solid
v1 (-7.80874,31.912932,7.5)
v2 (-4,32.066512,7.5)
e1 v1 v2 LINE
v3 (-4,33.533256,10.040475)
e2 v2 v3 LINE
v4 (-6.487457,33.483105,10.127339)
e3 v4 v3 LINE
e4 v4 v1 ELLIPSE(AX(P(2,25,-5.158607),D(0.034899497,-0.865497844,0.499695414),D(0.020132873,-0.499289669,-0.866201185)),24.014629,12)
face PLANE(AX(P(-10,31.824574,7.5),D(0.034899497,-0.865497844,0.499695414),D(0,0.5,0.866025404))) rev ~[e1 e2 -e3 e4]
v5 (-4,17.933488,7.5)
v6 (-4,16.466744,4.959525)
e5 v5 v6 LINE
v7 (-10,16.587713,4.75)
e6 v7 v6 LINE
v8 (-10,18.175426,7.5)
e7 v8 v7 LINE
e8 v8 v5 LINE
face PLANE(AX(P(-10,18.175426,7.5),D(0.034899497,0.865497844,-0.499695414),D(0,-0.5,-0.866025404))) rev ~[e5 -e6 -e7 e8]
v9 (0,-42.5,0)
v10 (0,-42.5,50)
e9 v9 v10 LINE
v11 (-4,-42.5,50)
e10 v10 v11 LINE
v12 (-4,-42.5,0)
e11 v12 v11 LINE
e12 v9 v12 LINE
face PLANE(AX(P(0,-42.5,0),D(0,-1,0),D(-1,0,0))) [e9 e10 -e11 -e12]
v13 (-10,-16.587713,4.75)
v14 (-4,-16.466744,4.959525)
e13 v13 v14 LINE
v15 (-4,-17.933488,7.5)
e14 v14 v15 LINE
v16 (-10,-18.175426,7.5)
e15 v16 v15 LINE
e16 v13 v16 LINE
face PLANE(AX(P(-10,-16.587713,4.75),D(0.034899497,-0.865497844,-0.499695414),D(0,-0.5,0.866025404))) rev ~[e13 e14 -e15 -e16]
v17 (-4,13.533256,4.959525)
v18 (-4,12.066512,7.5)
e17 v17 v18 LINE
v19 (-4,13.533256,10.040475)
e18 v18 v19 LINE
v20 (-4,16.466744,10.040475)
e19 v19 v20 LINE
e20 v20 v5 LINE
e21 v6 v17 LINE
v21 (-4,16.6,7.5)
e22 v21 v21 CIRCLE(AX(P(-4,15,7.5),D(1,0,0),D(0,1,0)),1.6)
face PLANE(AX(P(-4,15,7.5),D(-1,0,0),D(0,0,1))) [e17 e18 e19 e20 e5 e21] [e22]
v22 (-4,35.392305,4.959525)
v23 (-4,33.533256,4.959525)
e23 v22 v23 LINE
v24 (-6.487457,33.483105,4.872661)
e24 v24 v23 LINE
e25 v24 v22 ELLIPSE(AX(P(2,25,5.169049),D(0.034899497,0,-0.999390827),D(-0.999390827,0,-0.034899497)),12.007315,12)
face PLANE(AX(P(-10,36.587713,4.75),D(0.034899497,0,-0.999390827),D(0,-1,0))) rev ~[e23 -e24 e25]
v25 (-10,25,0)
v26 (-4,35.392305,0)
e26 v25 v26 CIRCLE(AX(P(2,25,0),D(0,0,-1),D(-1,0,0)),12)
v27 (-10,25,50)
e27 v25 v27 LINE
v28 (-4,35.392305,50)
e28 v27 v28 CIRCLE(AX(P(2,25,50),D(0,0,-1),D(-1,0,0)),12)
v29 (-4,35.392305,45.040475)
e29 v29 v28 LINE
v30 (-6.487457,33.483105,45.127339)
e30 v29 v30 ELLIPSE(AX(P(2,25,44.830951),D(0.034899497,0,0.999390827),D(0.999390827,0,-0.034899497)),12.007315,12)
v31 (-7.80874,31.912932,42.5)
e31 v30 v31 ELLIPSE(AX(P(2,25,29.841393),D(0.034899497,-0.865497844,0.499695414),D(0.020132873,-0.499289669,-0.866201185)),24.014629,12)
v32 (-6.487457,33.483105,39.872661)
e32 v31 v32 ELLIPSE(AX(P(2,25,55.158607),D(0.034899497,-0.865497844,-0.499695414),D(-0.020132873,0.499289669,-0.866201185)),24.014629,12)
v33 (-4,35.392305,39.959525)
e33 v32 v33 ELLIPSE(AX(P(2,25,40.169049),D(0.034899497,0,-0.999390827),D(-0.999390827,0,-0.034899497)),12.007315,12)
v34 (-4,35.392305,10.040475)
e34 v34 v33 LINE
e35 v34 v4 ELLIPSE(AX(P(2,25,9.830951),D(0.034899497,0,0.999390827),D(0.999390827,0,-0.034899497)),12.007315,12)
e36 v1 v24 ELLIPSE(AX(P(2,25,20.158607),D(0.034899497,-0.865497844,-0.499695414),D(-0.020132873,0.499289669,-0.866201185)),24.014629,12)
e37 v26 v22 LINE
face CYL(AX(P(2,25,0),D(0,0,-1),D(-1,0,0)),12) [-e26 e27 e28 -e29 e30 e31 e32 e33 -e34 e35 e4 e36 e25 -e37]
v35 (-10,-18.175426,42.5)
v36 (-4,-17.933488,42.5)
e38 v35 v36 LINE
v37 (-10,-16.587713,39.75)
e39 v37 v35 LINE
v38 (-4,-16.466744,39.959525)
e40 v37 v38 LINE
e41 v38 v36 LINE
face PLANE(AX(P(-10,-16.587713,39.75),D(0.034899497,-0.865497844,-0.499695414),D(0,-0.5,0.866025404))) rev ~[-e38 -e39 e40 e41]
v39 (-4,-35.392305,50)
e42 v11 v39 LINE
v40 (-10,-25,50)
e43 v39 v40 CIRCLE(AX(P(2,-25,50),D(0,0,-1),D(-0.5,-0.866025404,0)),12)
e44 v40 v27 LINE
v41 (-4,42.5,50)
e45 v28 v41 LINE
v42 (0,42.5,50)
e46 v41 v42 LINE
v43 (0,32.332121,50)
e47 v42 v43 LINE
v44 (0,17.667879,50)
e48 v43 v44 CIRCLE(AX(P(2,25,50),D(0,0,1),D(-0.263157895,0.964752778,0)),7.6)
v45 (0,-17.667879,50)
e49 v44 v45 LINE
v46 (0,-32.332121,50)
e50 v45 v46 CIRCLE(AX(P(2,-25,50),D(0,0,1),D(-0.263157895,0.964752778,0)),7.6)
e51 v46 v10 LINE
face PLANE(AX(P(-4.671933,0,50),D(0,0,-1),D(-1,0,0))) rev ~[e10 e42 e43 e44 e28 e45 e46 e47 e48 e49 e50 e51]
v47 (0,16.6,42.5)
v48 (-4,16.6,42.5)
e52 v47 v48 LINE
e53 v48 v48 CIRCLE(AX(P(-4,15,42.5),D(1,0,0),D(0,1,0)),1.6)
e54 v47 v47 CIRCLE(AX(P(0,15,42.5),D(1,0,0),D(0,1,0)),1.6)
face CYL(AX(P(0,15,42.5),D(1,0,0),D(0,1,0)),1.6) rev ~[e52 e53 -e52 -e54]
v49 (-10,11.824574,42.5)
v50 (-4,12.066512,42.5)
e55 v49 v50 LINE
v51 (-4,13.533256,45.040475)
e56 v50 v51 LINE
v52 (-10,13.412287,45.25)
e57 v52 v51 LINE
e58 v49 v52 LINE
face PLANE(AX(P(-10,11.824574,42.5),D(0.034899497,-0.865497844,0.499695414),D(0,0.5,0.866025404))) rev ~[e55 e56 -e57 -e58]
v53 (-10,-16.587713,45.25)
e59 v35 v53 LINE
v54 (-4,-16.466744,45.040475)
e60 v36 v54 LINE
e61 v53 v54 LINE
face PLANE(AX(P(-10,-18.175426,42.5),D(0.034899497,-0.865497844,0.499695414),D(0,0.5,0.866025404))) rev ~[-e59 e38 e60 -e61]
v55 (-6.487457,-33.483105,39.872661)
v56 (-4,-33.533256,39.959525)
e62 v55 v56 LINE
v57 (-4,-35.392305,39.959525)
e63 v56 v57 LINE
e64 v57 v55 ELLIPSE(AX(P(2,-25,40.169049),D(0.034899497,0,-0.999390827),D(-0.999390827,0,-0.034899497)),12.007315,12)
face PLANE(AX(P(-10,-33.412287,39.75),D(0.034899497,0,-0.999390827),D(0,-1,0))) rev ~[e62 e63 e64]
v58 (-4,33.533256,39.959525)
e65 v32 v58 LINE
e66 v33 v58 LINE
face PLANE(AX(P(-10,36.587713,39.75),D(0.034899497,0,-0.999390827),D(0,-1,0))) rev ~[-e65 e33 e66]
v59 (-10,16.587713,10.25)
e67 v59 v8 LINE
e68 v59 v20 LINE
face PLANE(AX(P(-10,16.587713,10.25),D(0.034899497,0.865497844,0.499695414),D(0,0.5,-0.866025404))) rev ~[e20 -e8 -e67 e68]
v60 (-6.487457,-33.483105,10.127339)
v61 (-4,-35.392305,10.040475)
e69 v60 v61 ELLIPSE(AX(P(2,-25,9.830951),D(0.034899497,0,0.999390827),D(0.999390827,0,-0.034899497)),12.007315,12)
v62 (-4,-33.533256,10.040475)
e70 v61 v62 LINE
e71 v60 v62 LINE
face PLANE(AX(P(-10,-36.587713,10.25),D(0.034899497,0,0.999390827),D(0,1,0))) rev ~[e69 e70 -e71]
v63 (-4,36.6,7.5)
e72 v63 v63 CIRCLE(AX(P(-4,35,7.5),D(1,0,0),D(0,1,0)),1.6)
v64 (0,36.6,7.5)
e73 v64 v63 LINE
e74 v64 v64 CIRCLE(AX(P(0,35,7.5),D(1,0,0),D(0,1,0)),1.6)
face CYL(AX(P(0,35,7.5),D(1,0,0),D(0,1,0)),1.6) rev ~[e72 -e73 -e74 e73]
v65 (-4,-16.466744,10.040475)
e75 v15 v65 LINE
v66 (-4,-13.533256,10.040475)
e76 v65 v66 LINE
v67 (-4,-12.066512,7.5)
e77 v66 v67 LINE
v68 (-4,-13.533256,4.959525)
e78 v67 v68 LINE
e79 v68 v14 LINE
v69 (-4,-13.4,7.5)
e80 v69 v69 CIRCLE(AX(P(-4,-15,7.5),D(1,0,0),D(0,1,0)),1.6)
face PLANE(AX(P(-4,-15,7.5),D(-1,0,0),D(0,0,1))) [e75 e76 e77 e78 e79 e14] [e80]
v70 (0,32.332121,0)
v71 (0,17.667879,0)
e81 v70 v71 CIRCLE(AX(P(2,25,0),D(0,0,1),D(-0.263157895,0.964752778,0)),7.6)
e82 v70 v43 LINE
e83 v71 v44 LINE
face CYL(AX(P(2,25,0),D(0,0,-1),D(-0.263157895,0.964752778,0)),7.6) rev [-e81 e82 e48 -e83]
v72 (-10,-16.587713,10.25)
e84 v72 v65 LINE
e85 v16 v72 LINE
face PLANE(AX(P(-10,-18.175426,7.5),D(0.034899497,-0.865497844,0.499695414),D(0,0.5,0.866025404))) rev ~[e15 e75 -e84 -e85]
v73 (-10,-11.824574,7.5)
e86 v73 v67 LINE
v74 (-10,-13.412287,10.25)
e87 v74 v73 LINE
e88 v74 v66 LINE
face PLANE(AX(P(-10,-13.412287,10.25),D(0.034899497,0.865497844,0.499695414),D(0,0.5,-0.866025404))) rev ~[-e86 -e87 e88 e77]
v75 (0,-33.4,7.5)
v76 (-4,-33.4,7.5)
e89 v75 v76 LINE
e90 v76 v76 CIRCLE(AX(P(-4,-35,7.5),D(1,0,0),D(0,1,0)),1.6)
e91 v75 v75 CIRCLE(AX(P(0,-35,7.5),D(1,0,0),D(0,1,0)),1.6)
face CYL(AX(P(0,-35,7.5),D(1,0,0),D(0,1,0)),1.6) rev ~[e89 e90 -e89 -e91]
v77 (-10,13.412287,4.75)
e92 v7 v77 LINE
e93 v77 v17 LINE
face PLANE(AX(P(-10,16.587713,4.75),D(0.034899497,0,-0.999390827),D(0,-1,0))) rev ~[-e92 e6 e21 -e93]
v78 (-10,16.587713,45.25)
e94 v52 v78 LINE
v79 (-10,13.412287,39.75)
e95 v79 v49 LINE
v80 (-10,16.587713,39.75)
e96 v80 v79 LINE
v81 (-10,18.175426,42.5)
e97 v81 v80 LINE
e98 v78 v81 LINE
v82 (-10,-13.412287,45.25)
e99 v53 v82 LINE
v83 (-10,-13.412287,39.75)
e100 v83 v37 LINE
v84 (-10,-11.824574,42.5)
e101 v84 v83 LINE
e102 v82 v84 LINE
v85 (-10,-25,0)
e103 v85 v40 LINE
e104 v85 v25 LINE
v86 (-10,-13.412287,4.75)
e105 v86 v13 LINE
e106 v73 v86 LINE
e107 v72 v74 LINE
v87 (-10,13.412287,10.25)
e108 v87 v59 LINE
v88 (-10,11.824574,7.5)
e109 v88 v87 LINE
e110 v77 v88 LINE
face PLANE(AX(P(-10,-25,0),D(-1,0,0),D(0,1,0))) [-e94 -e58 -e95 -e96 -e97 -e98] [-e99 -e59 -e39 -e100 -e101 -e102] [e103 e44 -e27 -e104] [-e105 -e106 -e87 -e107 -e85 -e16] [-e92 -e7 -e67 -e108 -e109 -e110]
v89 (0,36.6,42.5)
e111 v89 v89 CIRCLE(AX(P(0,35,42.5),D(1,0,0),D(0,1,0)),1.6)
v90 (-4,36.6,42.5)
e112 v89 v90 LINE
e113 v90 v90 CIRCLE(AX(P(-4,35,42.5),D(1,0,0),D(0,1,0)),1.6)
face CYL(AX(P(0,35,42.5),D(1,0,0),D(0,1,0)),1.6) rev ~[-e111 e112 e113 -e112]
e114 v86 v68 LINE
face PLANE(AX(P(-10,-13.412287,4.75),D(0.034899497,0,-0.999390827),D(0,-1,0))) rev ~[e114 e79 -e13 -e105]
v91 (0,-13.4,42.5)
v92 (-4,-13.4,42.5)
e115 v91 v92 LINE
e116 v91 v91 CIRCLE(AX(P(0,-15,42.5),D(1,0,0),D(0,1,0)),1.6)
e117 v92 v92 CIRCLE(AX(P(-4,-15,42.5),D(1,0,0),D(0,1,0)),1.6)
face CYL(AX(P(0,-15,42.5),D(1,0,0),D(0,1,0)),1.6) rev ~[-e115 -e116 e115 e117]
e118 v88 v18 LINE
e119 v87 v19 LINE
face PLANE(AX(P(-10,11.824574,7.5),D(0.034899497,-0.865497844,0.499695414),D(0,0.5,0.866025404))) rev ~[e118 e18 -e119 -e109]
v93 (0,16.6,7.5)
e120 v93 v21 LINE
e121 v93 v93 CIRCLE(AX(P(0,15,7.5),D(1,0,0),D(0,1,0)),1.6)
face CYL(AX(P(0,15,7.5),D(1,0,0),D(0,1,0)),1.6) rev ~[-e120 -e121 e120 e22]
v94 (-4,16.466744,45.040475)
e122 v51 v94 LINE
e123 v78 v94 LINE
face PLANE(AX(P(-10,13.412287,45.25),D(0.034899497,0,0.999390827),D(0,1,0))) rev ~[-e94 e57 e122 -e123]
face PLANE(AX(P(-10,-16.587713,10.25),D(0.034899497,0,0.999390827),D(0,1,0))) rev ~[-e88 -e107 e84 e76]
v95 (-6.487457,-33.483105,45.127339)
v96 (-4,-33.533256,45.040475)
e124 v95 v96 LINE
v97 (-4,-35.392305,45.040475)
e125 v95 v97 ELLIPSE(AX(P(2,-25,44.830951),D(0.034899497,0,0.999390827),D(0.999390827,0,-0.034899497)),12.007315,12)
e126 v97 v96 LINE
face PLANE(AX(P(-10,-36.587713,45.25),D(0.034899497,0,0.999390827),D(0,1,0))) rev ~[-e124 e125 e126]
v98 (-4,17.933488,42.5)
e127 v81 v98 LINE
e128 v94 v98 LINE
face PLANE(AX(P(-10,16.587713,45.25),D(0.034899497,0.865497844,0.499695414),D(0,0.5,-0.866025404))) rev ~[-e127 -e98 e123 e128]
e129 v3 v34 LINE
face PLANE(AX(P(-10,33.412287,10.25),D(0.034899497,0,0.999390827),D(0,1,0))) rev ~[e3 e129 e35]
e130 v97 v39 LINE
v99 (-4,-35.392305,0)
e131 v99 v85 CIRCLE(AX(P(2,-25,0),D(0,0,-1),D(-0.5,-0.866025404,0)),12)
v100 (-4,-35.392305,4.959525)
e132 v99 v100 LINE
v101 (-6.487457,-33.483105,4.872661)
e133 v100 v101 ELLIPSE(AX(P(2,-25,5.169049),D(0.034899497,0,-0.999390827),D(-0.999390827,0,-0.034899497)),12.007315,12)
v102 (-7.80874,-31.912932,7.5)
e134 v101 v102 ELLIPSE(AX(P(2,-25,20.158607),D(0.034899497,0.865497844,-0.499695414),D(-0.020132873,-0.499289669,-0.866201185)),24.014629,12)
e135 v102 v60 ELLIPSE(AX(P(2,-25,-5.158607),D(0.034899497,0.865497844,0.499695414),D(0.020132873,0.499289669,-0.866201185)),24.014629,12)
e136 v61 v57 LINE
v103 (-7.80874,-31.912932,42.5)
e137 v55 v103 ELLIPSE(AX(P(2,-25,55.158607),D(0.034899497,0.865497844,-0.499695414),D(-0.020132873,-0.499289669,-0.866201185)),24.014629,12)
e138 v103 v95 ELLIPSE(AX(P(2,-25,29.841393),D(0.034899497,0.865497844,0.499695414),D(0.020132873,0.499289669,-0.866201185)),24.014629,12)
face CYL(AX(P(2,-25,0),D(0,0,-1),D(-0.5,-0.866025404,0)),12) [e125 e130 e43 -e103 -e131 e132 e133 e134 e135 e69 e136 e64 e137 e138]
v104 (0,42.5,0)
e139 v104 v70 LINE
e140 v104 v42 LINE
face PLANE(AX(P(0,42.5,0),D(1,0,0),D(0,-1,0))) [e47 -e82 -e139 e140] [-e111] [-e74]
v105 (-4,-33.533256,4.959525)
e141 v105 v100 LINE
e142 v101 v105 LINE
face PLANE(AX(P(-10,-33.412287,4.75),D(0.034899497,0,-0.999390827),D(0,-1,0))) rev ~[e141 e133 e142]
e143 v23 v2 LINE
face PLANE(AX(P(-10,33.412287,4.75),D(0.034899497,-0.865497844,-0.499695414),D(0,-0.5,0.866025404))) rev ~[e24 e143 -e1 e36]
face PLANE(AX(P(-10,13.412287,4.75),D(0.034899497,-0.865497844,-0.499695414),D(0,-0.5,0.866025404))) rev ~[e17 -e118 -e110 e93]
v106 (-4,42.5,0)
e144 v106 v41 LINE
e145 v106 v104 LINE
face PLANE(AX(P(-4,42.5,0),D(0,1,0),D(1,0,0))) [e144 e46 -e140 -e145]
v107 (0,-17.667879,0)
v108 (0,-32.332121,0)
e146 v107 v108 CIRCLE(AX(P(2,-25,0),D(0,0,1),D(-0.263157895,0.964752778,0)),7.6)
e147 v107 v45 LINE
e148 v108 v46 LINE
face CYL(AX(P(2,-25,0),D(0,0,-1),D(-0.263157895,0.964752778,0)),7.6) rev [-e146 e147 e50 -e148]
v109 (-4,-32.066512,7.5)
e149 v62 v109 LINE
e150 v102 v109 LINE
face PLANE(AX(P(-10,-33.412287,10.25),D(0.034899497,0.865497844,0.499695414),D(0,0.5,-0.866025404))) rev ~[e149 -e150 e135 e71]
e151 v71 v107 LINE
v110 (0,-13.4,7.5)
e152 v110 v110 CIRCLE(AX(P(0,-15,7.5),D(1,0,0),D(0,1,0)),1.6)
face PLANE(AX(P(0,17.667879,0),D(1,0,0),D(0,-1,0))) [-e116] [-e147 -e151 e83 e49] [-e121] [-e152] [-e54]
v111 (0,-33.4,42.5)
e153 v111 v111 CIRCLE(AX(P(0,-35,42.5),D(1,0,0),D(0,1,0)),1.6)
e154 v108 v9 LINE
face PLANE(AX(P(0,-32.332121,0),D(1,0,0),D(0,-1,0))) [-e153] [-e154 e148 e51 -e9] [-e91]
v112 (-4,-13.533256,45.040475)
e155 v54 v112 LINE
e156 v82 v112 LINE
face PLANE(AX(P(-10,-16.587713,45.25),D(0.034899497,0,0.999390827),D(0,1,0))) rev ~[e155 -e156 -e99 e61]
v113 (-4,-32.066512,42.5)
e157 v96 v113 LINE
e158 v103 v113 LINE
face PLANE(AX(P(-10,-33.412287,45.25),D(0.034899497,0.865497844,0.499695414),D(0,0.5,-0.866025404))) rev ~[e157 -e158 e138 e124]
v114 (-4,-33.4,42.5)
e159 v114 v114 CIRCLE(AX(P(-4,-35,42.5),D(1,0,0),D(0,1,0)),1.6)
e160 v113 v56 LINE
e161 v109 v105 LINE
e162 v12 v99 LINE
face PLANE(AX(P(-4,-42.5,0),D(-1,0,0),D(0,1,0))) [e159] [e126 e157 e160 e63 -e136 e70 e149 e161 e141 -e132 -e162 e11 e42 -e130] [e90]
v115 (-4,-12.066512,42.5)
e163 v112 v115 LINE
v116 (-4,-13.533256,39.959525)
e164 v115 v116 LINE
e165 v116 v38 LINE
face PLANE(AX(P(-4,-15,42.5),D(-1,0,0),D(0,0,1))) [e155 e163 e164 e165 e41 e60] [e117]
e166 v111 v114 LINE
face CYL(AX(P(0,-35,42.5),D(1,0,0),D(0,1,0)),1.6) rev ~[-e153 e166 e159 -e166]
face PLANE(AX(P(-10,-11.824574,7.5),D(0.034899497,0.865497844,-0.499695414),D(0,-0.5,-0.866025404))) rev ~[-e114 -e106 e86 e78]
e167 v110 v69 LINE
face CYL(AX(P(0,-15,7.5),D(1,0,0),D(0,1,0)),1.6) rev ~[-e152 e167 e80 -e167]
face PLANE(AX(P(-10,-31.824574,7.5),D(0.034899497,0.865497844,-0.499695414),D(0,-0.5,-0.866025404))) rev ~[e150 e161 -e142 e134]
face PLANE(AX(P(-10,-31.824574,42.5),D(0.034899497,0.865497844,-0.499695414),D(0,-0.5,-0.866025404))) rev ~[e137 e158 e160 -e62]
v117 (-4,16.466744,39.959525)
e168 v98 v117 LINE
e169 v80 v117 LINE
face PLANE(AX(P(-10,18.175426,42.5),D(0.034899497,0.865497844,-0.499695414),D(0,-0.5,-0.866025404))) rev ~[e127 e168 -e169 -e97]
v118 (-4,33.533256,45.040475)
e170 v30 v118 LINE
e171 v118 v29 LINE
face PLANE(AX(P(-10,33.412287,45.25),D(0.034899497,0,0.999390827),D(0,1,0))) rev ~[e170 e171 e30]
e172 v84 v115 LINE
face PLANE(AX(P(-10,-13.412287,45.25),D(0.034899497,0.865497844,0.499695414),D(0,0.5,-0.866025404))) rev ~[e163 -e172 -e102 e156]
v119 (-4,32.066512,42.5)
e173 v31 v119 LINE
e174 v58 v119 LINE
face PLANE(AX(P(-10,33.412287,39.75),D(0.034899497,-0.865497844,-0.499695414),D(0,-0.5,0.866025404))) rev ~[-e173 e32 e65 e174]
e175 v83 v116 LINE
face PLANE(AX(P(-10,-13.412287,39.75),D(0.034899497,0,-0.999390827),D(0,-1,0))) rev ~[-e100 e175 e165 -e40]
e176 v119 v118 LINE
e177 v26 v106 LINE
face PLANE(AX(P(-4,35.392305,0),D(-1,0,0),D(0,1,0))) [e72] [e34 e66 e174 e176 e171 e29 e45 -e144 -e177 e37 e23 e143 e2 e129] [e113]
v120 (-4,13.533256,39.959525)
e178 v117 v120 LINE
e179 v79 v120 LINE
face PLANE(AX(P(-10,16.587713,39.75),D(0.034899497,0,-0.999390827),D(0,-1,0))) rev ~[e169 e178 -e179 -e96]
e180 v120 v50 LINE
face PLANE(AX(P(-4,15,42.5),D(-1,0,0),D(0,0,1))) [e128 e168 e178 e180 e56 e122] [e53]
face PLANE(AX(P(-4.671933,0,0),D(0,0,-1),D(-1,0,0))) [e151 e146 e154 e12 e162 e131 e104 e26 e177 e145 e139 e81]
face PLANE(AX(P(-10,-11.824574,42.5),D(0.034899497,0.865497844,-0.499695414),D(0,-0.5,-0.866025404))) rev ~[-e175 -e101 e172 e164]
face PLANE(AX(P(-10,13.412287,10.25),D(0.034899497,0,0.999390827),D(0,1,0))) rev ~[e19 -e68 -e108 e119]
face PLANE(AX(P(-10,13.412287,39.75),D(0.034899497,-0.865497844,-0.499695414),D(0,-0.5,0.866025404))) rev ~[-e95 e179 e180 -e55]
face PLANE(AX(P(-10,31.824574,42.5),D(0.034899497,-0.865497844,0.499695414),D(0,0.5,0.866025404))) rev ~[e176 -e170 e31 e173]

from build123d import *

# Parameters (mm, degrees)
RESSALTO_EXTRUS_O1_DEPTH        = 50
ESBO_O2_R                       = 1.6
CORTE_EXTRUS_O1_DEPTH           = 67.379590237
CORTE_EXTRUS_O2_DEPTH           = 6
CORTE_EXTRUS_O2_DRAFT           = -2
CORTE_EXTRUS_O2_PROFILE_2_DEPTH = 6
CORTE_EXTRUS_O2_PROFILE_2_DRAFT = -2
CORTE_EXTRUS_O2_PROFILE_3_DEPTH = 6
CORTE_EXTRUS_O2_PROFILE_3_DRAFT = -2
CORTE_EXTRUS_O2_PROFILE_4_DEPTH = 6
CORTE_EXTRUS_O2_PROFILE_4_DRAFT = -2
CORTE_EXTRUS_O2_PROFILE_5_DEPTH = 6
CORTE_EXTRUS_O2_PROFILE_5_DRAFT = -2
CORTE_EXTRUS_O2_PROFILE_6_DEPTH = 6
CORTE_EXTRUS_O2_PROFILE_6_DRAFT = -2
CORTE_EXTRUS_O2_PROFILE_7_DEPTH = 6
CORTE_EXTRUS_O2_PROFILE_7_DRAFT = -2
CORTE_EXTRUS_O2_PROFILE_8_DEPTH = 6
CORTE_EXTRUS_O2_PROFILE_8_DRAFT = -2


with BuildPart() as part:
    # Esboço1 → Ressalto-extrusão1 (new body)
    with BuildSketch(Plane.XY):
        with BuildLine():
            Line((0, 17.667878888), (0, -17.667878888))
            ThreePointArc((0, -17.667878888), (-5.6, -25), (0, -32.332121112))
            Line((0, -32.332121112), (0, -42.5))
            Line((0, -42.5), (-4, -42.5))
            Line((-4, -42.5), (-4, -35.392304845))
            ThreePointArc((-4, -35.392304845), (-8.392304845, -31), (-10, -25))
            Line((-10, -25), (-10, 25))
            ThreePointArc((-10, 25), (-8.392304845, 31), (-4, 35.392304845))
            Line((-4, 35.392304845), (-4, 42.5))
            Line((-4, 42.5), (0, 42.5))
            Line((0, 42.5), (0, 32.332121112))
            ThreePointArc((0, 32.332121112), (-5.6, 25), (0, 17.667878888))
        make_face()
    extrude(amount=RESSALTO_EXTRUS_O1_DEPTH)

    # Esboço2 → Corte-extrusão1 (cut, through all)
    with BuildSketch(Plane(origin=(0, 0, 0), x_dir=(0, 0, -1), z_dir=(1, 0, 0))):
        with Locations(Location((-42.5, 35, 0), (0, 0, 90))):
            Circle(ESBO_O2_R)
        with Locations(Location((-7.5, 35, 0), (0, 0, 90))):
            Circle(ESBO_O2_R)
        with Locations(Location((-7.5, -35, 0), (0, 0, 90))):
            Circle(ESBO_O2_R)
        with Locations(Location((-42.5, -35, 0), (0, 0, 90))):
            Circle(ESBO_O2_R)
        with Locations(Location((-42.5, -15, 0), (0, 0, 90))):
            Circle(ESBO_O2_R)
        with Locations(Location((-42.5, 15, 0), (0, 0, 90))):
            Circle(ESBO_O2_R)
        with Locations(Location((-7.5, 15, 0), (0, 0, 90))):
            Circle(ESBO_O2_R)
        with Locations(Location((-7.5, -15, 0), (0, 0, 90))):
            Circle(ESBO_O2_R)
    extrude(amount=-CORTE_EXTRUS_O1_DEPTH, mode=Mode.SUBTRACT)


with BuildPart() as corte_extrus_o2_tool:
    # Esboço3 → Corte-extrusão2 (with draft: the straight prism first)
    with BuildSketch(Plane.ZY.offset(10)):
        Polygon((10.25, 36.58771324), (7.5, 38.175426481), (4.75, 36.58771324), (4.75, 33.41228676), (7.5, 31.824573519), (10.25, 33.41228676), align=None)
    extrude(amount=-CORTE_EXTRUS_O2_DEPTH)
    # Corte-extrusão2: the draft: its side faces are tilted about the plane it starts from
    corte_extrus_o2_sides = [corte_extrus_o2_tool.faces().sort_by_distance(p)[0] for p in [
        (-7, 37.38156986, 8.875),
        (-7, 37.38156986, 6.125),
        (-7, 35, 4.75),
        (-7, 32.61843014, 6.125),
        (-7, 32.61843014, 8.875),
        (-7, 35, 10.25),
    ]]
    draft(corte_extrus_o2_sides, Plane.ZY.offset(10), CORTE_EXTRUS_O2_DRAFT)


with BuildPart() as part_1:
    add(part.part)

    # Corte-extrusão2: cut by corte_extrus_o2_tool
    add(corte_extrus_o2_tool.part, mode=Mode.SUBTRACT)


with BuildPart() as corte_extrus_o2_profile_2_tool:
    # Esboço3 → Corte-extrusão2 profile 2 (with draft: the straight prism first)
    with BuildSketch(Plane.ZY.offset(10)):
        Polygon((45.25, 36.58771324), (42.5, 38.175426481), (39.75, 36.58771324), (39.75, 33.41228676), (42.5, 31.824573519), (45.25, 33.41228676), align=None)
    extrude(amount=-CORTE_EXTRUS_O2_PROFILE_2_DEPTH)
    # Corte-extrusão2 profile 2: the draft: its side faces are tilted about the plane it starts from
    corte_extrus_o2_profile_2_sides = [corte_extrus_o2_profile_2_tool.faces().sort_by_distance(p)[0] for p in [
        (-7, 37.38156986, 43.875),
        (-7, 37.38156986, 41.125),
        (-7, 35, 39.75),
        (-7, 32.61843014, 41.125),
        (-7, 32.61843014, 43.875),
        (-7, 35, 45.25),
    ]]
    draft(corte_extrus_o2_profile_2_sides, Plane.ZY.offset(10), CORTE_EXTRUS_O2_PROFILE_2_DRAFT)


with BuildPart() as part_2:
    add(part_1.part)

    # Corte-extrusão2 profile 2: cut by corte_extrus_o2_profile_2_tool
    add(corte_extrus_o2_profile_2_tool.part, mode=Mode.SUBTRACT)


with BuildPart() as corte_extrus_o2_profile_3_tool:
    # Esboço3 → Corte-extrusão2 profile 3 (with draft: the straight prism first)
    with BuildSketch(Plane.ZY.offset(10)):
        Polygon((45.25, 16.58771324), (42.5, 18.175426481), (39.75, 16.58771324), (39.75, 13.41228676), (42.5, 11.824573519), (45.25, 13.41228676), align=None)
    extrude(amount=-CORTE_EXTRUS_O2_PROFILE_3_DEPTH)
    # Corte-extrusão2 profile 3: the draft: its side faces are tilted about the plane it starts from
    corte_extrus_o2_profile_3_sides = [corte_extrus_o2_profile_3_tool.faces().sort_by_distance(p)[0] for p in [
        (-7, 17.38156986, 43.875),
        (-7, 17.38156986, 41.125),
        (-7, 15, 39.75),
        (-7, 12.61843014, 41.125),
        (-7, 12.61843014, 43.875),
        (-7, 15, 45.25),
    ]]
    draft(corte_extrus_o2_profile_3_sides, Plane.ZY.offset(10), CORTE_EXTRUS_O2_PROFILE_3_DRAFT)


with BuildPart() as part_3:
    add(part_2.part)

    # Corte-extrusão2 profile 3: cut by corte_extrus_o2_profile_3_tool
    add(corte_extrus_o2_profile_3_tool.part, mode=Mode.SUBTRACT)


with BuildPart() as corte_extrus_o2_profile_4_tool:
    # Esboço3 → Corte-extrusão2 profile 4 (with draft: the straight prism first)
    with BuildSketch(Plane.ZY.offset(10)):
        Polygon((10.25, 16.58771324), (7.5, 18.175426481), (4.75, 16.58771324), (4.75, 13.41228676), (7.5, 11.824573519), (10.25, 13.41228676), align=None)
    extrude(amount=-CORTE_EXTRUS_O2_PROFILE_4_DEPTH)
    # Corte-extrusão2 profile 4: the draft: its side faces are tilted about the plane it starts from
    corte_extrus_o2_profile_4_sides = [corte_extrus_o2_profile_4_tool.faces().sort_by_distance(p)[0] for p in [
        (-7, 17.38156986, 8.875),
        (-7, 17.38156986, 6.125),
        (-7, 15, 4.75),
        (-7, 12.61843014, 6.125),
        (-7, 12.61843014, 8.875),
        (-7, 15, 10.25),
    ]]
    draft(corte_extrus_o2_profile_4_sides, Plane.ZY.offset(10), CORTE_EXTRUS_O2_PROFILE_4_DRAFT)


with BuildPart() as part_4:
    add(part_3.part)

    # Corte-extrusão2 profile 4: cut by corte_extrus_o2_profile_4_tool
    add(corte_extrus_o2_profile_4_tool.part, mode=Mode.SUBTRACT)


with BuildPart() as corte_extrus_o2_profile_5_tool:
    # Esboço3 → Corte-extrusão2 profile 5 (with draft: the straight prism first)
    with BuildSketch(Plane.ZY.offset(10)):
        Polygon((10.25, -13.41228676), (7.5, -11.824573519), (4.75, -13.41228676), (4.75, -16.58771324), (7.5, -18.175426481), (10.25, -16.58771324), align=None)
    extrude(amount=-CORTE_EXTRUS_O2_PROFILE_5_DEPTH)
    # Corte-extrusão2 profile 5: the draft: its side faces are tilted about the plane it starts from
    corte_extrus_o2_profile_5_sides = [corte_extrus_o2_profile_5_tool.faces().sort_by_distance(p)[0] for p in [
        (-7, -12.61843014, 8.875),
        (-7, -12.61843014, 6.125),
        (-7, -15, 4.75),
        (-7, -17.38156986, 6.125),
        (-7, -17.38156986, 8.875),
        (-7, -15, 10.25),
    ]]
    draft(corte_extrus_o2_profile_5_sides, Plane.ZY.offset(10), CORTE_EXTRUS_O2_PROFILE_5_DRAFT)


with BuildPart() as part_5:
    add(part_4.part)

    # Corte-extrusão2 profile 5: cut by corte_extrus_o2_profile_5_tool
    add(corte_extrus_o2_profile_5_tool.part, mode=Mode.SUBTRACT)


with BuildPart() as corte_extrus_o2_profile_6_tool:
    # Esboço3 → Corte-extrusão2 profile 6 (with draft: the straight prism first)
    with BuildSketch(Plane.ZY.offset(10)):
        Polygon((10.25, -33.41228676), (7.5, -31.824573519), (4.75, -33.41228676), (4.75, -36.58771324), (7.5, -38.175426481), (10.25, -36.58771324), align=None)
    extrude(amount=-CORTE_EXTRUS_O2_PROFILE_6_DEPTH)
    # Corte-extrusão2 profile 6: the draft: its side faces are tilted about the plane it starts from
    corte_extrus_o2_profile_6_sides = [corte_extrus_o2_profile_6_tool.faces().sort_by_distance(p)[0] for p in [
        (-7, -32.61843014, 8.875),
        (-7, -32.61843014, 6.125),
        (-7, -35, 4.75),
        (-7, -37.38156986, 6.125),
        (-7, -37.38156986, 8.875),
        (-7, -35, 10.25),
    ]]
    draft(corte_extrus_o2_profile_6_sides, Plane.ZY.offset(10), CORTE_EXTRUS_O2_PROFILE_6_DRAFT)


with BuildPart() as part_6:
    add(part_5.part)

    # Corte-extrusão2 profile 6: cut by corte_extrus_o2_profile_6_tool
    add(corte_extrus_o2_profile_6_tool.part, mode=Mode.SUBTRACT)


with BuildPart() as corte_extrus_o2_profile_7_tool:
    # Esboço3 → Corte-extrusão2 profile 7 (with draft: the straight prism first)
    with BuildSketch(Plane.ZY.offset(10)):
        Polygon((45.25, -33.41228676), (42.5, -31.824573519), (39.75, -33.41228676), (39.75, -36.58771324), (42.5, -38.175426481), (45.25, -36.58771324), align=None)
    extrude(amount=-CORTE_EXTRUS_O2_PROFILE_7_DEPTH)
    # Corte-extrusão2 profile 7: the draft: its side faces are tilted about the plane it starts from
    corte_extrus_o2_profile_7_sides = [corte_extrus_o2_profile_7_tool.faces().sort_by_distance(p)[0] for p in [
        (-7, -32.61843014, 43.875),
        (-7, -32.61843014, 41.125),
        (-7, -35, 39.75),
        (-7, -37.38156986, 41.125),
        (-7, -37.38156986, 43.875),
        (-7, -35, 45.25),
    ]]
    draft(corte_extrus_o2_profile_7_sides, Plane.ZY.offset(10), CORTE_EXTRUS_O2_PROFILE_7_DRAFT)


with BuildPart() as part_7:
    add(part_6.part)

    # Corte-extrusão2 profile 7: cut by corte_extrus_o2_profile_7_tool
    add(corte_extrus_o2_profile_7_tool.part, mode=Mode.SUBTRACT)


with BuildPart() as corte_extrus_o2_profile_8_tool:
    # Esboço3 → Corte-extrusão2 profile 8 (with draft: the straight prism first)
    with BuildSketch(Plane.ZY.offset(10)):
        Polygon((45.25, -13.41228676), (42.5, -11.824573519), (39.75, -13.41228676), (39.75, -16.58771324), (42.5, -18.175426481), (45.25, -16.58771324), align=None)
    extrude(amount=-CORTE_EXTRUS_O2_PROFILE_8_DEPTH)
    # Corte-extrusão2 profile 8: the draft: its side faces are tilted about the plane it starts from
    corte_extrus_o2_profile_8_sides = [corte_extrus_o2_profile_8_tool.faces().sort_by_distance(p)[0] for p in [
        (-7, -12.61843014, 43.875),
        (-7, -12.61843014, 41.125),
        (-7, -15, 39.75),
        (-7, -17.38156986, 41.125),
        (-7, -17.38156986, 43.875),
        (-7, -15, 45.25),
    ]]
    draft(corte_extrus_o2_profile_8_sides, Plane.ZY.offset(10), CORTE_EXTRUS_O2_PROFILE_8_DRAFT)


with BuildPart() as part_8:
    add(part_7.part)

    # Corte-extrusão2 profile 8: cut by corte_extrus_o2_profile_8_tool
    add(corte_extrus_o2_profile_8_tool.part, mode=Mode.SUBTRACT)


solid = part_8.part
